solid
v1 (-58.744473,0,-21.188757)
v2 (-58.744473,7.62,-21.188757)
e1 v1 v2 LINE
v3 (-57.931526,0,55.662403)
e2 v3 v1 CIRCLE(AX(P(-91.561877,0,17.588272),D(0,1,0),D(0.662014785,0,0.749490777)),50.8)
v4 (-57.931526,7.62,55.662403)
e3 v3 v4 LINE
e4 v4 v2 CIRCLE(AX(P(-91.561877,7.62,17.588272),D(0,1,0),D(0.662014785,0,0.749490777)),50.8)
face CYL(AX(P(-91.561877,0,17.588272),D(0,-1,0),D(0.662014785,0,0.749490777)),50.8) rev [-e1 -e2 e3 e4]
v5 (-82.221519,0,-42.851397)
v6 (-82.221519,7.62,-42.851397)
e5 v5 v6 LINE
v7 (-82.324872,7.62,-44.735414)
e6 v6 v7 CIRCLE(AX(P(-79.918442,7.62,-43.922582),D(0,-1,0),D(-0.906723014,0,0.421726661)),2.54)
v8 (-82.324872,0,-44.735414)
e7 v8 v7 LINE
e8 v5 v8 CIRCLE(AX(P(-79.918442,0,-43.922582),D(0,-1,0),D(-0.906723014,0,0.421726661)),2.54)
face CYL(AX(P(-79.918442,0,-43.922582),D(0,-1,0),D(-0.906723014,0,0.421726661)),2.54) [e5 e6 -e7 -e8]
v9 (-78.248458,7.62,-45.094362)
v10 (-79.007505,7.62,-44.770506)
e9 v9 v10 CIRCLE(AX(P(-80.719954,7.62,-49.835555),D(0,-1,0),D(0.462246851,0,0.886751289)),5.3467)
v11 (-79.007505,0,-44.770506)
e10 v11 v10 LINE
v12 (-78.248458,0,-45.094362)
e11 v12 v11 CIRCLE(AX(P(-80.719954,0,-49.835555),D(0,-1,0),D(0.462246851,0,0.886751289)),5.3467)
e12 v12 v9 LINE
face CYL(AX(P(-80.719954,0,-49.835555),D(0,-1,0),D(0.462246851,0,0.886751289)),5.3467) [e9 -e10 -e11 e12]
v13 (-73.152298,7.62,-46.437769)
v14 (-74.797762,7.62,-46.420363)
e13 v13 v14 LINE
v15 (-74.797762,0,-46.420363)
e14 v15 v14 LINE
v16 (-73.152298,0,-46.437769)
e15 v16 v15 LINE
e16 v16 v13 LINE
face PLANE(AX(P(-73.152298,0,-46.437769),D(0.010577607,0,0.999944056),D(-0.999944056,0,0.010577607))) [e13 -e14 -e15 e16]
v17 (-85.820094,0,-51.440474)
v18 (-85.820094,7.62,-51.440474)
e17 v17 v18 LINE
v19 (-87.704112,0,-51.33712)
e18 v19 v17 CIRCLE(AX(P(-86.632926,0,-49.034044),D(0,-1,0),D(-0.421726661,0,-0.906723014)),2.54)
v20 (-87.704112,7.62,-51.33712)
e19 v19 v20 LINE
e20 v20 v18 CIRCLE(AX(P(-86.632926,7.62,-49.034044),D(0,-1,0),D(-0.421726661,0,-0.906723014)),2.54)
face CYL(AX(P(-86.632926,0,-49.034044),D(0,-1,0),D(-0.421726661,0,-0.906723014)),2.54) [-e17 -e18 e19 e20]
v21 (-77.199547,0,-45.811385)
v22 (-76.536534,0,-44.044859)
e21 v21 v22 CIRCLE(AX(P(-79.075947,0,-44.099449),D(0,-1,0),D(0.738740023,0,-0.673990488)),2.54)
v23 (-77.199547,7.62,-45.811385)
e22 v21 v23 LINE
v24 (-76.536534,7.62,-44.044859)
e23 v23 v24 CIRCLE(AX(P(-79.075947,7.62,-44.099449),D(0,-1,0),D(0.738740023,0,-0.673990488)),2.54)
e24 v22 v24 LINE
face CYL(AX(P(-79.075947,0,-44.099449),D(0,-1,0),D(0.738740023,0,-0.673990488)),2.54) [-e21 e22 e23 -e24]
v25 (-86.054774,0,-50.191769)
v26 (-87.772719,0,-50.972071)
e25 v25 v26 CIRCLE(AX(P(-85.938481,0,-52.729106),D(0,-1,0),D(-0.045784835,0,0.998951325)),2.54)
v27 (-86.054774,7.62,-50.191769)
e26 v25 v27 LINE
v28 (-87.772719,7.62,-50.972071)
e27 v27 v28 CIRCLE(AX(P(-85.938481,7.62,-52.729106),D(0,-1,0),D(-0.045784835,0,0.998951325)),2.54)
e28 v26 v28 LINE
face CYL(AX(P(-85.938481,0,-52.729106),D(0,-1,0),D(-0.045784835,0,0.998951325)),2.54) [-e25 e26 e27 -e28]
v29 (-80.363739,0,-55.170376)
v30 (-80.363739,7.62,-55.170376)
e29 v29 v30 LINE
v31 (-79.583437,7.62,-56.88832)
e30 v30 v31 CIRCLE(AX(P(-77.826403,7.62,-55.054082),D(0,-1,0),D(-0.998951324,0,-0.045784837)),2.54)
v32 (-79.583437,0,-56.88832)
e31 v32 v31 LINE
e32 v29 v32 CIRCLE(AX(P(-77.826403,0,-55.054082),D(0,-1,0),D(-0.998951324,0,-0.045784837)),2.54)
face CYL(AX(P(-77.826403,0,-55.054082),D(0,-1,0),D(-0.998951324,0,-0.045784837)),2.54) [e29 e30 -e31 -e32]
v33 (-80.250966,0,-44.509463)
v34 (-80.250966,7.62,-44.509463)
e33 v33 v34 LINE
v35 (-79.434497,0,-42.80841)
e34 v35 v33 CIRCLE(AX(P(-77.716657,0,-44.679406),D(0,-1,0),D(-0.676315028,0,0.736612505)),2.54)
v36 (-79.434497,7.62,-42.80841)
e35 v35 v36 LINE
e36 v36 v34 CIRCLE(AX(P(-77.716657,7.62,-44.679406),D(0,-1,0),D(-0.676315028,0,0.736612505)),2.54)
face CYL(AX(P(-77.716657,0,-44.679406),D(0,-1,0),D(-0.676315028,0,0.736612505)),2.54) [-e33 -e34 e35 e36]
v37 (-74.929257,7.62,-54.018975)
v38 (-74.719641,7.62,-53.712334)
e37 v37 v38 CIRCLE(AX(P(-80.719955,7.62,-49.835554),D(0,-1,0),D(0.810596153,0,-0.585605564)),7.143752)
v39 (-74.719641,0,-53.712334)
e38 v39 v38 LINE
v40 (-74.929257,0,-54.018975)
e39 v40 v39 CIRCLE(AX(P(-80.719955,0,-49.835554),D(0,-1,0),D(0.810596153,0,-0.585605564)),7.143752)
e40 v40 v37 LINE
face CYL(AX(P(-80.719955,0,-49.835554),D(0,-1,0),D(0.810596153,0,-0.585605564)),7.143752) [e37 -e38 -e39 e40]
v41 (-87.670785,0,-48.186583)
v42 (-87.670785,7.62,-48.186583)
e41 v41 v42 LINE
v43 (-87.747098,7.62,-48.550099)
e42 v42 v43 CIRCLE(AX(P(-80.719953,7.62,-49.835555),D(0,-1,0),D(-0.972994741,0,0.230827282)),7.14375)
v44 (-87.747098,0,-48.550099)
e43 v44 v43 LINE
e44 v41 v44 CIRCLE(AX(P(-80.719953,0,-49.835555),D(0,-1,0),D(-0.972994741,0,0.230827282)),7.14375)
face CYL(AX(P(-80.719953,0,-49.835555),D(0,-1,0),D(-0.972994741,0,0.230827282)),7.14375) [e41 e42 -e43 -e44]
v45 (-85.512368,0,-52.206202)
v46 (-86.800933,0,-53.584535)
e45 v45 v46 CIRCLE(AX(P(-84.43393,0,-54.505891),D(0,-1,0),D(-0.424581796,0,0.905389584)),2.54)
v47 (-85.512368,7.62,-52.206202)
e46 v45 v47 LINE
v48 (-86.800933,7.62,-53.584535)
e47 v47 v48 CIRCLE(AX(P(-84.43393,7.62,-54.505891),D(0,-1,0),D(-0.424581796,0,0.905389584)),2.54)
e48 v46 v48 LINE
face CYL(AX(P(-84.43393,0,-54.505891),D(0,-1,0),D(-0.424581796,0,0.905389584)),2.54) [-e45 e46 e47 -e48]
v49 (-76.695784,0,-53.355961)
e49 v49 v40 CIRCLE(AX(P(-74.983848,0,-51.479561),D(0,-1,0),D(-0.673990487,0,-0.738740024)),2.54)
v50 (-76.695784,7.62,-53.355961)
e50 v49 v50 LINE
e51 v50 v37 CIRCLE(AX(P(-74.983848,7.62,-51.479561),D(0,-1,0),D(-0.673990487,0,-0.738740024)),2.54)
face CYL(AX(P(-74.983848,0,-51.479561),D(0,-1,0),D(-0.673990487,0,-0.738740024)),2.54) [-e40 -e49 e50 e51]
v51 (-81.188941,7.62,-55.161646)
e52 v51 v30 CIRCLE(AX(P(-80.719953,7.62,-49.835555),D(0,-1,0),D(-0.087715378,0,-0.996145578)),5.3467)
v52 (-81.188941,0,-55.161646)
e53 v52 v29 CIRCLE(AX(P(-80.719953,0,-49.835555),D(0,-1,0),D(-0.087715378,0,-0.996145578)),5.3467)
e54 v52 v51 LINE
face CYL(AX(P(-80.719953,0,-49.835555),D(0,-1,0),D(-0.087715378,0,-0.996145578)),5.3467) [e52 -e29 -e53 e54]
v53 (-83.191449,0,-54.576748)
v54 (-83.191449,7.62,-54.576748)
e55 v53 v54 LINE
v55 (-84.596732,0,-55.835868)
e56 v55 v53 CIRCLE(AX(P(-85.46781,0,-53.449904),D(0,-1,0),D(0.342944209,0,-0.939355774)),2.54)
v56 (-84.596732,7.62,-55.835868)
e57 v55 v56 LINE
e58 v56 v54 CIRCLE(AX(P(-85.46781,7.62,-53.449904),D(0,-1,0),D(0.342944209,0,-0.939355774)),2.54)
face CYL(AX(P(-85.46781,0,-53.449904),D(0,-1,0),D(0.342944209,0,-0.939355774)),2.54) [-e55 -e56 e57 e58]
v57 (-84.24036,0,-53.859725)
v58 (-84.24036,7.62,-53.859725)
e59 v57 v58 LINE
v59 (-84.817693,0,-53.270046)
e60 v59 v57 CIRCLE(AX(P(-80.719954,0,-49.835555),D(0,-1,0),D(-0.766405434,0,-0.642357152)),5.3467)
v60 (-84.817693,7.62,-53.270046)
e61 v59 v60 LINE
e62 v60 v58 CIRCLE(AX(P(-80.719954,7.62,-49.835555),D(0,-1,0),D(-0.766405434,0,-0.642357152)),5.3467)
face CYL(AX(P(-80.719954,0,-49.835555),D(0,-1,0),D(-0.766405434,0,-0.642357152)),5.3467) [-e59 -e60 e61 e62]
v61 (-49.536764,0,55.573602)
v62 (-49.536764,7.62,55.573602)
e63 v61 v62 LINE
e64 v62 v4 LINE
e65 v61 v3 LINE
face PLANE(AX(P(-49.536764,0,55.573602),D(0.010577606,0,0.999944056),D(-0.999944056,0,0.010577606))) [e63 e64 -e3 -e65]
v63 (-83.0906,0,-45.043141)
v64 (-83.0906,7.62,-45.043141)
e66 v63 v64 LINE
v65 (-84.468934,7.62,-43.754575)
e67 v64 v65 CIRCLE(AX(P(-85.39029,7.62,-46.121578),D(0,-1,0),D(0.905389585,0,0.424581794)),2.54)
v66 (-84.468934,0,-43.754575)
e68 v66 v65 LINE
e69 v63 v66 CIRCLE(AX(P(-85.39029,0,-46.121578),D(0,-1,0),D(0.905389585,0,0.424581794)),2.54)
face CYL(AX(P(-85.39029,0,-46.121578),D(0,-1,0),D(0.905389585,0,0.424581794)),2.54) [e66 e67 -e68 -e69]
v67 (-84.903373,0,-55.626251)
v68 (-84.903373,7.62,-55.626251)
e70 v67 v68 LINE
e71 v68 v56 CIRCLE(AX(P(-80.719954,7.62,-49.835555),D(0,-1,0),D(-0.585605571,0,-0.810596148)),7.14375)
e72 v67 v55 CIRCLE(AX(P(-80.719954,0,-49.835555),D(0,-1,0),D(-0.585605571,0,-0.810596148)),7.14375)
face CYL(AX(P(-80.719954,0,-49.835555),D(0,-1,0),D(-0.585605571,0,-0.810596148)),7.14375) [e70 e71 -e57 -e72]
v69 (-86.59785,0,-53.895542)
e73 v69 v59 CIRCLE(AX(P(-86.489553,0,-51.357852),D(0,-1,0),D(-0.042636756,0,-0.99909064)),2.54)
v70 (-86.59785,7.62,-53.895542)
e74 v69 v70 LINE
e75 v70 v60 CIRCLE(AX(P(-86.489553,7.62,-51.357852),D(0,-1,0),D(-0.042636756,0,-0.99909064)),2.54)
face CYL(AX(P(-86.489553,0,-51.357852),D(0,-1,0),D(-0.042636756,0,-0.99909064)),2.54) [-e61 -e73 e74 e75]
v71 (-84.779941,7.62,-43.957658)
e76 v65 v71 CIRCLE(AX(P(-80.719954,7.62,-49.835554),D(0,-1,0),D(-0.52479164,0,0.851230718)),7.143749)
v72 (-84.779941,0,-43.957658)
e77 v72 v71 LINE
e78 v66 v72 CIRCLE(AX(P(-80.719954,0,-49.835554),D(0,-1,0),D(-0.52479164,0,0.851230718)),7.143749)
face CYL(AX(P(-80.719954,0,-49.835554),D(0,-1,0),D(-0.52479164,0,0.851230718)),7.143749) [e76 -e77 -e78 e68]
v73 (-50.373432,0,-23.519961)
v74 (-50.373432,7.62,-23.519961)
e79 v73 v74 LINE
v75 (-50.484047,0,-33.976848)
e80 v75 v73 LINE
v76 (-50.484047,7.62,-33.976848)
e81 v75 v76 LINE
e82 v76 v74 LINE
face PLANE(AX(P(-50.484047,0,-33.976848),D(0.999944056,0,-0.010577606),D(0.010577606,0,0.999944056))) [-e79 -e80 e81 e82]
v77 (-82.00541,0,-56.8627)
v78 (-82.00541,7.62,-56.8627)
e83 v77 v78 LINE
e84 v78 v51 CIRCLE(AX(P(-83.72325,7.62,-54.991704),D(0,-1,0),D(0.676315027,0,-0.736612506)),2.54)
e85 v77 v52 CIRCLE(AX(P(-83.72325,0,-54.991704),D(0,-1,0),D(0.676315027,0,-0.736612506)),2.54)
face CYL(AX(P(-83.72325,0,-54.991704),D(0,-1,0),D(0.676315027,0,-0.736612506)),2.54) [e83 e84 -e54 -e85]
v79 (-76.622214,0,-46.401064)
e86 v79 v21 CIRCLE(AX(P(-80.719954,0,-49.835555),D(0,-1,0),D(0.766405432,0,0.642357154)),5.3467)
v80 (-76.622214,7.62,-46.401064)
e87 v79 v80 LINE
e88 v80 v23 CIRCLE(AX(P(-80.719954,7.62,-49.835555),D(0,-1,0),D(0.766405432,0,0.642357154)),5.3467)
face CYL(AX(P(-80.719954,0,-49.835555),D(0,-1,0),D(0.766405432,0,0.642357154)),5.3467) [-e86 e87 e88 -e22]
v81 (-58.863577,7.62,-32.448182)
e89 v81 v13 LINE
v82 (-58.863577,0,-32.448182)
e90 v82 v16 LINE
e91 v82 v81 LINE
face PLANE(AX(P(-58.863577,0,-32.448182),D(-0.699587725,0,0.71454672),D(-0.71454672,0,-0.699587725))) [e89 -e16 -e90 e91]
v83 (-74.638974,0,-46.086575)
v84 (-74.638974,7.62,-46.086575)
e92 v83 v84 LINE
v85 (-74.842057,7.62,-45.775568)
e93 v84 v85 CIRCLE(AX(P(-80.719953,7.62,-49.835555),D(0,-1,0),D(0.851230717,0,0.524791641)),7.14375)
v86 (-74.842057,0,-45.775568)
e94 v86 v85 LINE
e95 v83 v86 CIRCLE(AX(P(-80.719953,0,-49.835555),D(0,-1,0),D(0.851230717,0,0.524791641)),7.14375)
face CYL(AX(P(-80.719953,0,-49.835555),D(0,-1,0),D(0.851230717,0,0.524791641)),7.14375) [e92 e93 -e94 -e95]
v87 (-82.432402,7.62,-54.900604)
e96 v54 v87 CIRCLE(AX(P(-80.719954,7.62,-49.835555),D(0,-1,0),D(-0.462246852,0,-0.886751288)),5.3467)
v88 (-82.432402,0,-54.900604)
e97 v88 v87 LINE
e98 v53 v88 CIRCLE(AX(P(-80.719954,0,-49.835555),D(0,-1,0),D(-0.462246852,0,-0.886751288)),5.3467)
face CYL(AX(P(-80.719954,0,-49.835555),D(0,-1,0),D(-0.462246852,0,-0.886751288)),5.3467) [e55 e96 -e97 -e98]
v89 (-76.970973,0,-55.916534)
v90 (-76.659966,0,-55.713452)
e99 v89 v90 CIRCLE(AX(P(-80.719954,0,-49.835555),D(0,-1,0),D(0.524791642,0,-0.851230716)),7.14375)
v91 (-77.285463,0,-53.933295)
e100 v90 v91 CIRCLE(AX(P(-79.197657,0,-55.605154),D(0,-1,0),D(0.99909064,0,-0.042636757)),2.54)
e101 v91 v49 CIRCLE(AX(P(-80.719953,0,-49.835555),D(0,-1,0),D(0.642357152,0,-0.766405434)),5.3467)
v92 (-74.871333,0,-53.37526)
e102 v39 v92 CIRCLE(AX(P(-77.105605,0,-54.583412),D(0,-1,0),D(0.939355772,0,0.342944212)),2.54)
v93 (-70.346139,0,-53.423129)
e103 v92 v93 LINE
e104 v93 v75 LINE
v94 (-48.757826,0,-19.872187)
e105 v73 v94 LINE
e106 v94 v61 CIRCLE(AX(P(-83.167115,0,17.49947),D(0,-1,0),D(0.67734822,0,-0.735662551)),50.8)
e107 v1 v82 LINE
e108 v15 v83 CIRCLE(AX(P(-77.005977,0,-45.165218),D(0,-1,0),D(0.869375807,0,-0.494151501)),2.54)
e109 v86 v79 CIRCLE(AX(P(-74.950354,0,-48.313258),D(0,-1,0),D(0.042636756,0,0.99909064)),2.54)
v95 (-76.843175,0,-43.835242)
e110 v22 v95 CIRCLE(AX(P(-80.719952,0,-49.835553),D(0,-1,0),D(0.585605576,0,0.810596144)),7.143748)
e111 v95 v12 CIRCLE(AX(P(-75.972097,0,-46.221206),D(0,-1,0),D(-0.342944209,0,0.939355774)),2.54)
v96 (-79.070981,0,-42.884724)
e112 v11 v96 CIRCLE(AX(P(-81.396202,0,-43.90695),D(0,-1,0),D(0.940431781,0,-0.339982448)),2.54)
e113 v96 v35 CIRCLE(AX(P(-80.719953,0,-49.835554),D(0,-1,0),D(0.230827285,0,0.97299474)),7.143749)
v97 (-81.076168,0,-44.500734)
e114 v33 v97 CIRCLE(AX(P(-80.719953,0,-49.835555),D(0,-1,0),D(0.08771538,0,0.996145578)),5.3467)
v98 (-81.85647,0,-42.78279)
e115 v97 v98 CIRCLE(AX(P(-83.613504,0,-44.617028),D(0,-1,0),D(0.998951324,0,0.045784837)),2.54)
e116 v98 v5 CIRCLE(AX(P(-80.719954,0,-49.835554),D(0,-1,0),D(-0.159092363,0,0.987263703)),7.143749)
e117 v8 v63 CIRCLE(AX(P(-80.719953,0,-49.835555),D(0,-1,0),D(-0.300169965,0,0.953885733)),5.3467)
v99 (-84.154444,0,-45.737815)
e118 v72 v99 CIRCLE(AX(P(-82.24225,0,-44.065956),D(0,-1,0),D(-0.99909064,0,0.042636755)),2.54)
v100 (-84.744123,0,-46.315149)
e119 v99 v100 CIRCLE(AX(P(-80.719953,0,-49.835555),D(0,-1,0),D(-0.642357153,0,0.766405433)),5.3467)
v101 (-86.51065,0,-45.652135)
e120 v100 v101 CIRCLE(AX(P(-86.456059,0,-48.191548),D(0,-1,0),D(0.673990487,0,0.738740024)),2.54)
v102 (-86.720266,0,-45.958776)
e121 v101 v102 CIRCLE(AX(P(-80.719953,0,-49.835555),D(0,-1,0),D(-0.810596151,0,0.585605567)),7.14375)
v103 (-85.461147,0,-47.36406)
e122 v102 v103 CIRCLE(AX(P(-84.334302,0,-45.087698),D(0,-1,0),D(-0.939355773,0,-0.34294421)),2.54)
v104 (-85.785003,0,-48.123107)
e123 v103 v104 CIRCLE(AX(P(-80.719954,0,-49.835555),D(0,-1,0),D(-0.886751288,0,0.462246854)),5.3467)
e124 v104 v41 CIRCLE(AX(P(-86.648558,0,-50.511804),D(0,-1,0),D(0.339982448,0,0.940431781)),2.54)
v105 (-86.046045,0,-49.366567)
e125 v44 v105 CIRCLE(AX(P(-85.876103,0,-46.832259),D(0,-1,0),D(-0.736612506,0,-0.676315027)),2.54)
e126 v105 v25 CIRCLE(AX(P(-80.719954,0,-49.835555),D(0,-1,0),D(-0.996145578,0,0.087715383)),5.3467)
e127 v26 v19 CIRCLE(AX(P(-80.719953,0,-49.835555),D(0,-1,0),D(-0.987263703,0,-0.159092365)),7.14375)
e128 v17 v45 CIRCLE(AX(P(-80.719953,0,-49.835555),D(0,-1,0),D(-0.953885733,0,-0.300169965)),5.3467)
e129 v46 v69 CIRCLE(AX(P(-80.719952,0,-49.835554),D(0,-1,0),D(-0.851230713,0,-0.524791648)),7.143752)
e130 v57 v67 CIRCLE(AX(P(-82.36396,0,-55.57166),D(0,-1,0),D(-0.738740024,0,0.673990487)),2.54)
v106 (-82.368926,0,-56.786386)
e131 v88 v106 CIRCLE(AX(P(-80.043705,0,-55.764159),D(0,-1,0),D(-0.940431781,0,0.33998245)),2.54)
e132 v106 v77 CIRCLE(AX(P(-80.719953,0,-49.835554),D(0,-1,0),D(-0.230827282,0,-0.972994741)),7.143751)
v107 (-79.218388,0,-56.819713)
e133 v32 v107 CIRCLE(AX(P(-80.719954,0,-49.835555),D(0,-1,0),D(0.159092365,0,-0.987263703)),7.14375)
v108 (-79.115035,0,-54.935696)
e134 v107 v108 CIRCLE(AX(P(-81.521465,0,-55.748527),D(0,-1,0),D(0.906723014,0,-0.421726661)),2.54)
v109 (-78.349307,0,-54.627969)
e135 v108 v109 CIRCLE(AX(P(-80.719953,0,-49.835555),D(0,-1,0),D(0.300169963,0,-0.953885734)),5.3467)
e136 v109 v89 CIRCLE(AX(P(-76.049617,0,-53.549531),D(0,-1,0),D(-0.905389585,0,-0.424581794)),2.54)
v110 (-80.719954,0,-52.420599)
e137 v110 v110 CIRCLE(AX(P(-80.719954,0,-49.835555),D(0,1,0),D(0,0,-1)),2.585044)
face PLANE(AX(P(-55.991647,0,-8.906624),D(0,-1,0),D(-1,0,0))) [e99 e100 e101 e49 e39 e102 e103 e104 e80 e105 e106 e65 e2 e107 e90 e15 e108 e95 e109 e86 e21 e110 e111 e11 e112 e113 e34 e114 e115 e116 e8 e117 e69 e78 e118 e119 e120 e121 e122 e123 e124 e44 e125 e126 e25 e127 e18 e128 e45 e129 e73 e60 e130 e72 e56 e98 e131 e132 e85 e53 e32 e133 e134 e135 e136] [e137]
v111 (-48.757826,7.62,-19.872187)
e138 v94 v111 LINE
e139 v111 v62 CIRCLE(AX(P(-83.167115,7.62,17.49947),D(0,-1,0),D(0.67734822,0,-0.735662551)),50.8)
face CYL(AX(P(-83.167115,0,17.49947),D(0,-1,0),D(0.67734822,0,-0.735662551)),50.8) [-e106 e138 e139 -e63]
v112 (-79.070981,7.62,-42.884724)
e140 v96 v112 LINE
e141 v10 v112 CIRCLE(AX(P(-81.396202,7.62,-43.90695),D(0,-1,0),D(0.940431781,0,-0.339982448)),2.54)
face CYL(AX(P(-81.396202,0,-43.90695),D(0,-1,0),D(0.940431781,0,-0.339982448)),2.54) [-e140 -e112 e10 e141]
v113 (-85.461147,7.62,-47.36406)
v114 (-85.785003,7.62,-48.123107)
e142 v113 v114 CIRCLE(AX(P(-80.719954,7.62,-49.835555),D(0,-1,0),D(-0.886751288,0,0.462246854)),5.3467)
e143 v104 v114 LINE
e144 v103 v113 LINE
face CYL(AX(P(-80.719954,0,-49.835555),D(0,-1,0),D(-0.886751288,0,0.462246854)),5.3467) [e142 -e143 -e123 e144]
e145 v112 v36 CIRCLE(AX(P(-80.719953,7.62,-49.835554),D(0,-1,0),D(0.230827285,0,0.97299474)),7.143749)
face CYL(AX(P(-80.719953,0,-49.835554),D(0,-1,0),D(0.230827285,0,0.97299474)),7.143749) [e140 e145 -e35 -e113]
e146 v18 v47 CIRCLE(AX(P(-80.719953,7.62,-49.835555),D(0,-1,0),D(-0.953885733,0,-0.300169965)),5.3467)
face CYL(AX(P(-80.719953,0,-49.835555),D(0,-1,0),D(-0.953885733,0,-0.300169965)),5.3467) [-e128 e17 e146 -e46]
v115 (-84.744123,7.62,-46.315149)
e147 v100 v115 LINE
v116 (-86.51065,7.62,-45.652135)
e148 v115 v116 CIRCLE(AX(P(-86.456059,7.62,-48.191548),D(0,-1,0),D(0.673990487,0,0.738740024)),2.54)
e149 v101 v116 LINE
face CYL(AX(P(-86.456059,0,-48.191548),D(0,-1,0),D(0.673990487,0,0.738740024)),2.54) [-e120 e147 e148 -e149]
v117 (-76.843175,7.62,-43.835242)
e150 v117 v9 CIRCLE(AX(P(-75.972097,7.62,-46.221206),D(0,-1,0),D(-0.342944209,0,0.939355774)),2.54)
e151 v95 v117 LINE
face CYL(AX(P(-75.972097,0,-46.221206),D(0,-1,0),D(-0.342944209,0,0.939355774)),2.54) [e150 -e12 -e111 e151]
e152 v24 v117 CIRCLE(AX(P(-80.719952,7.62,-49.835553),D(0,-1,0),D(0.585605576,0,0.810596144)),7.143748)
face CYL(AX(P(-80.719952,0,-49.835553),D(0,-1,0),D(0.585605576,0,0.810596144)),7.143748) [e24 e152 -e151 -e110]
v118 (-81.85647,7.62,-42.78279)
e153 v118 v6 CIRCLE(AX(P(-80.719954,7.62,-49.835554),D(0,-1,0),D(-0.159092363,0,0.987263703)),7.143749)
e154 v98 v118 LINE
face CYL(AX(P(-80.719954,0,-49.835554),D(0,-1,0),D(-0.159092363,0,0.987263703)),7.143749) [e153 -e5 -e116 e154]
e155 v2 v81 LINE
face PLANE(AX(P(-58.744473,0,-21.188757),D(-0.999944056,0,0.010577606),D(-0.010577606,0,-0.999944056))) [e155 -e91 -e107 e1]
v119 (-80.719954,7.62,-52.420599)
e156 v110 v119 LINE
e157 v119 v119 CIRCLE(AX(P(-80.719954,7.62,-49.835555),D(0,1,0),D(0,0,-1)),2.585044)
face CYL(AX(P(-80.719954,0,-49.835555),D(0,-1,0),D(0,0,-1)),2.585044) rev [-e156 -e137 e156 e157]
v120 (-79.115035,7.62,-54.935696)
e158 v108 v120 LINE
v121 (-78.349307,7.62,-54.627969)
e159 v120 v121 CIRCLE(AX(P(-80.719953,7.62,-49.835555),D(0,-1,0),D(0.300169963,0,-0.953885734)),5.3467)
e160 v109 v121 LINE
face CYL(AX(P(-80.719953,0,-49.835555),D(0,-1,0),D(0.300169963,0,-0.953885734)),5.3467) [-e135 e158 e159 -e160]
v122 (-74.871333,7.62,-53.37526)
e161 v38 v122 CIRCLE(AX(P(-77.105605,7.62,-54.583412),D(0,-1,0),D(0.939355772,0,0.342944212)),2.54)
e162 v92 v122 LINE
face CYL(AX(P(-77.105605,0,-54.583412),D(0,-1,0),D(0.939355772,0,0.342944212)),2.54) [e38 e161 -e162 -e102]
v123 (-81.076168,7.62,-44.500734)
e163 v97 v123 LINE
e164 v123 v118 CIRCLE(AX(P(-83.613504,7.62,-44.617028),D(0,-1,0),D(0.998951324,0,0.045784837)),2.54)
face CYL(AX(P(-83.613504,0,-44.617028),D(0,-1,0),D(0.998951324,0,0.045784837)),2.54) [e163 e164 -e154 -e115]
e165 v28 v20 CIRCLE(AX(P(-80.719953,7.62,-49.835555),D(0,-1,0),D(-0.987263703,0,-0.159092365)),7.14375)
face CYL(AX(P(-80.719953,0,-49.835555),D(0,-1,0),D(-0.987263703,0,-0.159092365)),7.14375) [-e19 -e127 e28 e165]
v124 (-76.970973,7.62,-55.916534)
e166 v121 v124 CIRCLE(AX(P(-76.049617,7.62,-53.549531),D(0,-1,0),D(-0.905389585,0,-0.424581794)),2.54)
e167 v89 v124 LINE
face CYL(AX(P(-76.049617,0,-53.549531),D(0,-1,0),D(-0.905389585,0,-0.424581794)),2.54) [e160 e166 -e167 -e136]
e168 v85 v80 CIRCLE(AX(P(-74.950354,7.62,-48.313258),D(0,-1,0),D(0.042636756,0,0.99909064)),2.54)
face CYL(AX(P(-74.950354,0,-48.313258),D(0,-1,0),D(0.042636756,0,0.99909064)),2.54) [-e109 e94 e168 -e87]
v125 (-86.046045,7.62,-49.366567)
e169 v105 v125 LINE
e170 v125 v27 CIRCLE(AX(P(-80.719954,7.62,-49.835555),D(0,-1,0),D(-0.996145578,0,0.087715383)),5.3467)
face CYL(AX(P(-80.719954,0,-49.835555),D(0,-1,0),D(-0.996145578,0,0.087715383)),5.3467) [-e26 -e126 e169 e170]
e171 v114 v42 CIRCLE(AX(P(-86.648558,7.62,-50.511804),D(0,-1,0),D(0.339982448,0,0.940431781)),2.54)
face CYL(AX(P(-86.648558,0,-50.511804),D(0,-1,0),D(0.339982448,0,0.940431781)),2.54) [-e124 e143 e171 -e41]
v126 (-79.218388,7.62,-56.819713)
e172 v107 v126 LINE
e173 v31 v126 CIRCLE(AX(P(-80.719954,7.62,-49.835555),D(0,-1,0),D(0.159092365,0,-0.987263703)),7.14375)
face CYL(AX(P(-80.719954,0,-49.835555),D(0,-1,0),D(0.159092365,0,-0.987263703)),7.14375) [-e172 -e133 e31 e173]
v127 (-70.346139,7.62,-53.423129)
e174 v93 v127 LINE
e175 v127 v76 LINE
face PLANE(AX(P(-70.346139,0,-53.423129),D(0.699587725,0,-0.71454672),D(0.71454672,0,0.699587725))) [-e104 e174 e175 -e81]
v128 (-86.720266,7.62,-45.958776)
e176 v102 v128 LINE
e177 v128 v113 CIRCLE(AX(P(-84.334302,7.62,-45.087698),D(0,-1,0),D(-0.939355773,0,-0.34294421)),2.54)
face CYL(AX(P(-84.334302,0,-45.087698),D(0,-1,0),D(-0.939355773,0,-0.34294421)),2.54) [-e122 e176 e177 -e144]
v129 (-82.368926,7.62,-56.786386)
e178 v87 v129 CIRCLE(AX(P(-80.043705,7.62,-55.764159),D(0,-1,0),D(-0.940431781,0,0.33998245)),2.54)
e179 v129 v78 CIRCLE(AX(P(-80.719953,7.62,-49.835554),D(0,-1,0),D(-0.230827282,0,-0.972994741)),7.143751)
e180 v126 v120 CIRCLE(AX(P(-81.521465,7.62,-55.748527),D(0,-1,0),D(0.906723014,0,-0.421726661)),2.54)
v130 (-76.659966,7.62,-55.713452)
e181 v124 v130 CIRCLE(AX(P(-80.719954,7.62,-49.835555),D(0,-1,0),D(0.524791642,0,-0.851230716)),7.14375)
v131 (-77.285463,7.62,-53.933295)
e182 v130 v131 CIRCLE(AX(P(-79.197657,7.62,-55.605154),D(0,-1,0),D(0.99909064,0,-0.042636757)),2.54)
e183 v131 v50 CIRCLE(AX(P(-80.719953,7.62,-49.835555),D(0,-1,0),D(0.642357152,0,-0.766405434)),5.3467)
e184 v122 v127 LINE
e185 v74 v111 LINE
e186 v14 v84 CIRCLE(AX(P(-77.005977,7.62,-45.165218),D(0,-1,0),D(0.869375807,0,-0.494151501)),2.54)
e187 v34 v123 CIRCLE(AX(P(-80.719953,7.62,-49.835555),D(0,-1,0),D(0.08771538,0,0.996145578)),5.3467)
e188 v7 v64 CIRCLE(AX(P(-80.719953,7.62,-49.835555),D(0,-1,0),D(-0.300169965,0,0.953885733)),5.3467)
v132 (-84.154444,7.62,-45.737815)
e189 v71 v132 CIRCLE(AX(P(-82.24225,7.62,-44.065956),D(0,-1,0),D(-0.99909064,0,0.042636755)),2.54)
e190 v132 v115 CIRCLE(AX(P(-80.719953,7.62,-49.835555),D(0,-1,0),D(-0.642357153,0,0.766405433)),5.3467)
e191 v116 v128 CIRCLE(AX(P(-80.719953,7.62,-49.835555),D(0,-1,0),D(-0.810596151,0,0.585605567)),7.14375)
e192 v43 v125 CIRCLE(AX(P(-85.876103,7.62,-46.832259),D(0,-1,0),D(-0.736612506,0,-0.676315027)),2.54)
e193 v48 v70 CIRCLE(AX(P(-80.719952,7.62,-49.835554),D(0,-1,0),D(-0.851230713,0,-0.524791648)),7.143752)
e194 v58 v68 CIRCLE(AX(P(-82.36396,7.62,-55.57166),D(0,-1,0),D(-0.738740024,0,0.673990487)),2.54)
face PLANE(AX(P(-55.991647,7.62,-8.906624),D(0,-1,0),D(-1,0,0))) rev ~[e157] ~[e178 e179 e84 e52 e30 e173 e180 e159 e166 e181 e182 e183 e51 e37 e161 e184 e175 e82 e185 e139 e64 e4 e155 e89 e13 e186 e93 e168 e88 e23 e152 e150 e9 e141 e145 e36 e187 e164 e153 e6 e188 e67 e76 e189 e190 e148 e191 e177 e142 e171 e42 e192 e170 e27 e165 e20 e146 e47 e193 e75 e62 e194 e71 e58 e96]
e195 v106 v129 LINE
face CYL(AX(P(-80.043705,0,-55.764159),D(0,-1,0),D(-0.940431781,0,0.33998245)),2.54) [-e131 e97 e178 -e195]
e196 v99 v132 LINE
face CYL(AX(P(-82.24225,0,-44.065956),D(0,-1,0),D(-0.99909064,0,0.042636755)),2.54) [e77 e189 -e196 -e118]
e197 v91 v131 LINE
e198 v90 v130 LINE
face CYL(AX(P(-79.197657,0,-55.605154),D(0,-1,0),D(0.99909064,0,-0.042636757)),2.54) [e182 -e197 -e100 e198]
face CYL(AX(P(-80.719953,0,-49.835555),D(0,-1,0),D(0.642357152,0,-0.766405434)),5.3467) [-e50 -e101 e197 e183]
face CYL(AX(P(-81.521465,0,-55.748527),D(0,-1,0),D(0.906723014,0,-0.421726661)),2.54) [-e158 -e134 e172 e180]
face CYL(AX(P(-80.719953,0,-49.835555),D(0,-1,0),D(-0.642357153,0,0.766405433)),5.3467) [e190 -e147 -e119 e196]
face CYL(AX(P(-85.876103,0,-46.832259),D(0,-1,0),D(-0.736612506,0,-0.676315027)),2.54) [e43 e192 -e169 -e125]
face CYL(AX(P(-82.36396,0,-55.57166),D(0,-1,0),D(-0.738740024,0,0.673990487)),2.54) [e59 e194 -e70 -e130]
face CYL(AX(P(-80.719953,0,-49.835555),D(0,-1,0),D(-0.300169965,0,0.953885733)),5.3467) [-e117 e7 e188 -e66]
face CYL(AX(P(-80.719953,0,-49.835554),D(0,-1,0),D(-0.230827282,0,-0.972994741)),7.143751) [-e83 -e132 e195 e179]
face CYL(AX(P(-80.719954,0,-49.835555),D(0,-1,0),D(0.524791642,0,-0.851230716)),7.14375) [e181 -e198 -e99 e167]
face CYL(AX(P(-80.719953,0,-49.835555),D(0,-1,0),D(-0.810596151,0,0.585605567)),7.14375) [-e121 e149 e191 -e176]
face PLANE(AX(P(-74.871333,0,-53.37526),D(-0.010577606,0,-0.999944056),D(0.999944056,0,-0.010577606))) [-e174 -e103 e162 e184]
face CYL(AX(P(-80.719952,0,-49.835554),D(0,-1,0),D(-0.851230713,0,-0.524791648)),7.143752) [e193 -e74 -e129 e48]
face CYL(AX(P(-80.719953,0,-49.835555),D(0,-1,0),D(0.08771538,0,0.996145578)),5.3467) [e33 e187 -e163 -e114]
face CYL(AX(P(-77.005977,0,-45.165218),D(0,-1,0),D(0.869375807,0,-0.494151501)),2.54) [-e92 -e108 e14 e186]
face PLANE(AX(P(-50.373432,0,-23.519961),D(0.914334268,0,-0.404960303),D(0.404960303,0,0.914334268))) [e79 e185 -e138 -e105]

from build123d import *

# Parameters (mm, degrees)
SKETCH1_R           = 2.585044133
BOSS_EXTRUDE1_DEPTH = 7.62


with BuildPart() as part:
    # Sketch1 → Boss-Extrude1 (new body)
    with BuildSketch(Plane(origin=(0, 0, 0), x_dir=(1, 0, 0), z_dir=(0, 1, 0))):
        with BuildLine():
            Line((-58.744472787, 21.18875714), (-58.863577215, 32.44818208))
            Line((-58.863577215, 32.44818208), (-73.152298059, 46.437769379))
            Line((-73.152298059, 46.437769379), (-74.797762466, 46.42036333))
            ThreePointArc((-74.797762466, 46.42036333), (-74.712288392, 46.256361266), (-74.638974072, 46.086574622))
            ThreePointArc((-74.638974072, 46.086574622), (-74.738493774, 45.929751081), (-74.84205687, 45.775567815))
            ThreePointArc((-74.84205687, 45.775567815), (-75.79237137, 45.916884294), (-76.622213572, 46.401063925))
            ThreePointArc((-76.622213572, 46.401063925), (-76.899486556, 46.095069224), (-77.199547344, 45.811385265))
            ThreePointArc((-77.199547344, 45.811385265), (-76.697921552, 44.991971107), (-76.536533716, 44.044858674))
            ThreePointArc((-76.536533716, 44.044858674), (-76.688491702, 43.938057155), (-76.843174908, 43.835242273))
            ThreePointArc((-76.843174908, 43.835242273), (-77.667071549, 44.32947129), (-78.248458251, 45.094361803))
            ThreePointArc((-78.248458251, 45.094361803), (-78.621724189, 44.917767339), (-79.00750536, 44.770505828))
            ThreePointArc((-79.00750536, 44.770505828), (-78.857639781, 43.82150198), (-79.070981099, 42.884723736))
            ThreePointArc((-79.070981099, 42.884723736), (-79.252243144, 42.844203803), (-79.434497344, 42.808409938))
            ThreePointArc((-79.434497344, 42.808409938), (-80.00654533, 43.580309605), (-80.250965679, 44.509463354))
            ThreePointArc((-80.250965679, 44.509463354), (-80.663398214, 44.489154033), (-81.076168083, 44.5007342))
            ThreePointArc((-81.076168083, 44.5007342), (-81.300878392, 43.566617894), (-81.856469582, 42.782789835))
            ThreePointArc((-81.856469582, 42.782789835), (-82.039440183, 42.81472028), (-82.221518827, 42.851396724))
            ThreePointArc((-82.221518827, 42.851396724), (-82.454629039, 43.783452315), (-82.32487225, 44.735414064))
            ThreePointArc((-82.32487225, 44.735414064), (-82.713682269, 44.874481796), (-83.090600365, 45.043140665))
            ThreePointArc((-83.090600365, 45.043140665), (-83.655676454, 44.266122641), (-84.468933795, 43.754575485))
            ThreePointArc((-84.468933795, 43.754575485), (-84.625757336, 43.854095187), (-84.779940601, 43.957658283))
            ThreePointArc((-84.779940601, 43.957658283), (-84.638624122, 44.907972782), (-84.154444491, 45.737814985))
            ThreePointArc((-84.154444491, 45.737814985), (-84.460439193, 46.015087969), (-84.744123152, 46.315148756))
            ThreePointArc((-84.744123152, 46.315148756), (-85.563537309, 45.813522965), (-86.510649743, 45.652135128))
            ThreePointArc((-86.510649743, 45.652135128), (-86.617451261, 45.804093115), (-86.720266143, 45.958776321))
            ThreePointArc((-86.720266143, 45.958776321), (-86.226037126, 46.782672961), (-85.461146613, 47.364059664))
            ThreePointArc((-85.461146613, 47.364059664), (-85.637741078, 47.737325602), (-85.785002589, 48.123106773))
            ThreePointArc((-85.785002589, 48.123106773), (-86.734006437, 47.973241194), (-87.670784681, 48.186582511))
            ThreePointArc((-87.670784681, 48.186582511), (-87.711304614, 48.367844557), (-87.747098479, 48.550098756))
            ThreePointArc((-87.747098479, 48.550098756), (-86.975198811, 49.122146743), (-86.046045062, 49.366567091))
            ThreePointArc((-86.046045062, 49.366567091), (-86.066354384, 49.778999627), (-86.054774217, 50.191769496))
            ThreePointArc((-86.054774217, 50.191769496), (-86.988890523, 50.416479804), (-87.772718581, 50.972070995))
            ThreePointArc((-87.772718581, 50.972070995), (-87.740788136, 51.155041596), (-87.704111693, 51.33712024))
            ThreePointArc((-87.704111693, 51.33712024), (-86.772056102, 51.570230452), (-85.820094353, 51.440473663))
            ThreePointArc((-85.820094353, 51.440473663), (-85.681026621, 51.829283682), (-85.512367752, 52.206201778))
            ThreePointArc((-85.512367752, 52.206201778), (-86.289385775, 52.771277867), (-86.800932932, 53.584535208))
            ThreePointArc((-86.800932932, 53.584535208), (-86.701413229, 53.741358749), (-86.597850134, 53.895542014))
            ThreePointArc((-86.597850134, 53.895542014), (-85.647535634, 53.754225535), (-84.817693432, 53.270045904))
            ThreePointArc((-84.817693432, 53.270045904), (-84.540420448, 53.576040606), (-84.24035966, 53.859724565))
            ThreePointArc((-84.24035966, 53.859724565), (-84.741985451, 54.679138722), (-84.903373288, 55.626251155))
            ThreePointArc((-84.903373288, 55.626251155), (-84.751415301, 55.733052674), (-84.596732096, 55.835867556))
            ThreePointArc((-84.596732096, 55.835867556), (-83.772835455, 55.341638539), (-83.191448752, 54.576748026))
            ThreePointArc((-83.191448752, 54.576748026), (-82.818182815, 54.75334249), (-82.432401643, 54.900604001))
            ThreePointArc((-82.432401643, 54.900604001), (-82.582267223, 55.84960785), (-82.368925905, 56.786386093))
            ThreePointArc((-82.368925905, 56.786386093), (-82.18766386, 56.826906026), (-82.00540966, 56.862699892))
            ThreePointArc((-82.00540966, 56.862699892), (-81.433361673, 56.090800224), (-81.188941325, 55.161646475))
            ThreePointArc((-81.188941325, 55.161646475), (-80.77650879, 55.181955796), (-80.363738921, 55.17037563))
            ThreePointArc((-80.363738921, 55.17037563), (-80.139028612, 56.104491936), (-79.583437422, 56.888319994))
            ThreePointArc((-79.583437422, 56.888319994), (-79.400466821, 56.856389549), (-79.218388177, 56.819713106))
            ThreePointArc((-79.218388177, 56.819713106), (-78.985277965, 55.887657515), (-79.115034753, 54.935695766))
            ThreePointArc((-79.115034753, 54.935695766), (-78.726224734, 54.796628034), (-78.349306639, 54.627969164))
            ThreePointArc((-78.349306639, 54.627969164), (-77.78423055, 55.404987188), (-76.970973209, 55.916534344))
            ThreePointArc((-76.970973209, 55.916534344), (-76.814149668, 55.817014642), (-76.659966403, 55.713451547))
            ThreePointArc((-76.659966403, 55.713451547), (-76.801282881, 54.763137047), (-77.285462512, 53.933294844))
            ThreePointArc((-77.285462512, 53.933294844), (-76.979467811, 53.656021861), (-76.695783852, 53.355961073))
            ThreePointArc((-76.695783852, 53.355961073), (-75.876369695, 53.857586864), (-74.929257261, 54.018974701))
            ThreePointArc((-74.929257261, 54.018974701), (-74.822455743, 53.867016714), (-74.71964086, 53.712333509))
            ThreePointArc((-74.71964086, 53.712333509), (-74.789347103, 53.541033964), (-74.871332746, 53.375260478))
            Line((-74.871332746, 53.375260478), (-70.346139099, 53.423128873))
            Line((-70.346139099, 53.423128873), (-50.484046566, 33.9768481))
            Line((-50.484046566, 33.9768481), (-50.373431547, 23.519961391))
            Line((-50.373431547, 23.519961391), (-48.757825737, 19.872187168))
            ThreePointArc((-48.757825737, 19.872187168), (-32.369822631, -18.023926027), (-49.536764273, -55.573601869))
            Line((-49.536764273, -55.573601869), (-57.931525987, -55.662403321))
            ThreePointArc((-57.931525987, -55.662403321), (-40.764719029, -17.050929449), (-58.744472787, 21.18875714))
        make_face()
        with Locations(Location((-80.719953502, 49.835554915, 0), (0, 0, 90))):
            Circle(SKETCH1_R, mode=Mode.SUBTRACT)
    extrude(amount=BOSS_EXTRUDE1_DEPTH)


solid = part.part
